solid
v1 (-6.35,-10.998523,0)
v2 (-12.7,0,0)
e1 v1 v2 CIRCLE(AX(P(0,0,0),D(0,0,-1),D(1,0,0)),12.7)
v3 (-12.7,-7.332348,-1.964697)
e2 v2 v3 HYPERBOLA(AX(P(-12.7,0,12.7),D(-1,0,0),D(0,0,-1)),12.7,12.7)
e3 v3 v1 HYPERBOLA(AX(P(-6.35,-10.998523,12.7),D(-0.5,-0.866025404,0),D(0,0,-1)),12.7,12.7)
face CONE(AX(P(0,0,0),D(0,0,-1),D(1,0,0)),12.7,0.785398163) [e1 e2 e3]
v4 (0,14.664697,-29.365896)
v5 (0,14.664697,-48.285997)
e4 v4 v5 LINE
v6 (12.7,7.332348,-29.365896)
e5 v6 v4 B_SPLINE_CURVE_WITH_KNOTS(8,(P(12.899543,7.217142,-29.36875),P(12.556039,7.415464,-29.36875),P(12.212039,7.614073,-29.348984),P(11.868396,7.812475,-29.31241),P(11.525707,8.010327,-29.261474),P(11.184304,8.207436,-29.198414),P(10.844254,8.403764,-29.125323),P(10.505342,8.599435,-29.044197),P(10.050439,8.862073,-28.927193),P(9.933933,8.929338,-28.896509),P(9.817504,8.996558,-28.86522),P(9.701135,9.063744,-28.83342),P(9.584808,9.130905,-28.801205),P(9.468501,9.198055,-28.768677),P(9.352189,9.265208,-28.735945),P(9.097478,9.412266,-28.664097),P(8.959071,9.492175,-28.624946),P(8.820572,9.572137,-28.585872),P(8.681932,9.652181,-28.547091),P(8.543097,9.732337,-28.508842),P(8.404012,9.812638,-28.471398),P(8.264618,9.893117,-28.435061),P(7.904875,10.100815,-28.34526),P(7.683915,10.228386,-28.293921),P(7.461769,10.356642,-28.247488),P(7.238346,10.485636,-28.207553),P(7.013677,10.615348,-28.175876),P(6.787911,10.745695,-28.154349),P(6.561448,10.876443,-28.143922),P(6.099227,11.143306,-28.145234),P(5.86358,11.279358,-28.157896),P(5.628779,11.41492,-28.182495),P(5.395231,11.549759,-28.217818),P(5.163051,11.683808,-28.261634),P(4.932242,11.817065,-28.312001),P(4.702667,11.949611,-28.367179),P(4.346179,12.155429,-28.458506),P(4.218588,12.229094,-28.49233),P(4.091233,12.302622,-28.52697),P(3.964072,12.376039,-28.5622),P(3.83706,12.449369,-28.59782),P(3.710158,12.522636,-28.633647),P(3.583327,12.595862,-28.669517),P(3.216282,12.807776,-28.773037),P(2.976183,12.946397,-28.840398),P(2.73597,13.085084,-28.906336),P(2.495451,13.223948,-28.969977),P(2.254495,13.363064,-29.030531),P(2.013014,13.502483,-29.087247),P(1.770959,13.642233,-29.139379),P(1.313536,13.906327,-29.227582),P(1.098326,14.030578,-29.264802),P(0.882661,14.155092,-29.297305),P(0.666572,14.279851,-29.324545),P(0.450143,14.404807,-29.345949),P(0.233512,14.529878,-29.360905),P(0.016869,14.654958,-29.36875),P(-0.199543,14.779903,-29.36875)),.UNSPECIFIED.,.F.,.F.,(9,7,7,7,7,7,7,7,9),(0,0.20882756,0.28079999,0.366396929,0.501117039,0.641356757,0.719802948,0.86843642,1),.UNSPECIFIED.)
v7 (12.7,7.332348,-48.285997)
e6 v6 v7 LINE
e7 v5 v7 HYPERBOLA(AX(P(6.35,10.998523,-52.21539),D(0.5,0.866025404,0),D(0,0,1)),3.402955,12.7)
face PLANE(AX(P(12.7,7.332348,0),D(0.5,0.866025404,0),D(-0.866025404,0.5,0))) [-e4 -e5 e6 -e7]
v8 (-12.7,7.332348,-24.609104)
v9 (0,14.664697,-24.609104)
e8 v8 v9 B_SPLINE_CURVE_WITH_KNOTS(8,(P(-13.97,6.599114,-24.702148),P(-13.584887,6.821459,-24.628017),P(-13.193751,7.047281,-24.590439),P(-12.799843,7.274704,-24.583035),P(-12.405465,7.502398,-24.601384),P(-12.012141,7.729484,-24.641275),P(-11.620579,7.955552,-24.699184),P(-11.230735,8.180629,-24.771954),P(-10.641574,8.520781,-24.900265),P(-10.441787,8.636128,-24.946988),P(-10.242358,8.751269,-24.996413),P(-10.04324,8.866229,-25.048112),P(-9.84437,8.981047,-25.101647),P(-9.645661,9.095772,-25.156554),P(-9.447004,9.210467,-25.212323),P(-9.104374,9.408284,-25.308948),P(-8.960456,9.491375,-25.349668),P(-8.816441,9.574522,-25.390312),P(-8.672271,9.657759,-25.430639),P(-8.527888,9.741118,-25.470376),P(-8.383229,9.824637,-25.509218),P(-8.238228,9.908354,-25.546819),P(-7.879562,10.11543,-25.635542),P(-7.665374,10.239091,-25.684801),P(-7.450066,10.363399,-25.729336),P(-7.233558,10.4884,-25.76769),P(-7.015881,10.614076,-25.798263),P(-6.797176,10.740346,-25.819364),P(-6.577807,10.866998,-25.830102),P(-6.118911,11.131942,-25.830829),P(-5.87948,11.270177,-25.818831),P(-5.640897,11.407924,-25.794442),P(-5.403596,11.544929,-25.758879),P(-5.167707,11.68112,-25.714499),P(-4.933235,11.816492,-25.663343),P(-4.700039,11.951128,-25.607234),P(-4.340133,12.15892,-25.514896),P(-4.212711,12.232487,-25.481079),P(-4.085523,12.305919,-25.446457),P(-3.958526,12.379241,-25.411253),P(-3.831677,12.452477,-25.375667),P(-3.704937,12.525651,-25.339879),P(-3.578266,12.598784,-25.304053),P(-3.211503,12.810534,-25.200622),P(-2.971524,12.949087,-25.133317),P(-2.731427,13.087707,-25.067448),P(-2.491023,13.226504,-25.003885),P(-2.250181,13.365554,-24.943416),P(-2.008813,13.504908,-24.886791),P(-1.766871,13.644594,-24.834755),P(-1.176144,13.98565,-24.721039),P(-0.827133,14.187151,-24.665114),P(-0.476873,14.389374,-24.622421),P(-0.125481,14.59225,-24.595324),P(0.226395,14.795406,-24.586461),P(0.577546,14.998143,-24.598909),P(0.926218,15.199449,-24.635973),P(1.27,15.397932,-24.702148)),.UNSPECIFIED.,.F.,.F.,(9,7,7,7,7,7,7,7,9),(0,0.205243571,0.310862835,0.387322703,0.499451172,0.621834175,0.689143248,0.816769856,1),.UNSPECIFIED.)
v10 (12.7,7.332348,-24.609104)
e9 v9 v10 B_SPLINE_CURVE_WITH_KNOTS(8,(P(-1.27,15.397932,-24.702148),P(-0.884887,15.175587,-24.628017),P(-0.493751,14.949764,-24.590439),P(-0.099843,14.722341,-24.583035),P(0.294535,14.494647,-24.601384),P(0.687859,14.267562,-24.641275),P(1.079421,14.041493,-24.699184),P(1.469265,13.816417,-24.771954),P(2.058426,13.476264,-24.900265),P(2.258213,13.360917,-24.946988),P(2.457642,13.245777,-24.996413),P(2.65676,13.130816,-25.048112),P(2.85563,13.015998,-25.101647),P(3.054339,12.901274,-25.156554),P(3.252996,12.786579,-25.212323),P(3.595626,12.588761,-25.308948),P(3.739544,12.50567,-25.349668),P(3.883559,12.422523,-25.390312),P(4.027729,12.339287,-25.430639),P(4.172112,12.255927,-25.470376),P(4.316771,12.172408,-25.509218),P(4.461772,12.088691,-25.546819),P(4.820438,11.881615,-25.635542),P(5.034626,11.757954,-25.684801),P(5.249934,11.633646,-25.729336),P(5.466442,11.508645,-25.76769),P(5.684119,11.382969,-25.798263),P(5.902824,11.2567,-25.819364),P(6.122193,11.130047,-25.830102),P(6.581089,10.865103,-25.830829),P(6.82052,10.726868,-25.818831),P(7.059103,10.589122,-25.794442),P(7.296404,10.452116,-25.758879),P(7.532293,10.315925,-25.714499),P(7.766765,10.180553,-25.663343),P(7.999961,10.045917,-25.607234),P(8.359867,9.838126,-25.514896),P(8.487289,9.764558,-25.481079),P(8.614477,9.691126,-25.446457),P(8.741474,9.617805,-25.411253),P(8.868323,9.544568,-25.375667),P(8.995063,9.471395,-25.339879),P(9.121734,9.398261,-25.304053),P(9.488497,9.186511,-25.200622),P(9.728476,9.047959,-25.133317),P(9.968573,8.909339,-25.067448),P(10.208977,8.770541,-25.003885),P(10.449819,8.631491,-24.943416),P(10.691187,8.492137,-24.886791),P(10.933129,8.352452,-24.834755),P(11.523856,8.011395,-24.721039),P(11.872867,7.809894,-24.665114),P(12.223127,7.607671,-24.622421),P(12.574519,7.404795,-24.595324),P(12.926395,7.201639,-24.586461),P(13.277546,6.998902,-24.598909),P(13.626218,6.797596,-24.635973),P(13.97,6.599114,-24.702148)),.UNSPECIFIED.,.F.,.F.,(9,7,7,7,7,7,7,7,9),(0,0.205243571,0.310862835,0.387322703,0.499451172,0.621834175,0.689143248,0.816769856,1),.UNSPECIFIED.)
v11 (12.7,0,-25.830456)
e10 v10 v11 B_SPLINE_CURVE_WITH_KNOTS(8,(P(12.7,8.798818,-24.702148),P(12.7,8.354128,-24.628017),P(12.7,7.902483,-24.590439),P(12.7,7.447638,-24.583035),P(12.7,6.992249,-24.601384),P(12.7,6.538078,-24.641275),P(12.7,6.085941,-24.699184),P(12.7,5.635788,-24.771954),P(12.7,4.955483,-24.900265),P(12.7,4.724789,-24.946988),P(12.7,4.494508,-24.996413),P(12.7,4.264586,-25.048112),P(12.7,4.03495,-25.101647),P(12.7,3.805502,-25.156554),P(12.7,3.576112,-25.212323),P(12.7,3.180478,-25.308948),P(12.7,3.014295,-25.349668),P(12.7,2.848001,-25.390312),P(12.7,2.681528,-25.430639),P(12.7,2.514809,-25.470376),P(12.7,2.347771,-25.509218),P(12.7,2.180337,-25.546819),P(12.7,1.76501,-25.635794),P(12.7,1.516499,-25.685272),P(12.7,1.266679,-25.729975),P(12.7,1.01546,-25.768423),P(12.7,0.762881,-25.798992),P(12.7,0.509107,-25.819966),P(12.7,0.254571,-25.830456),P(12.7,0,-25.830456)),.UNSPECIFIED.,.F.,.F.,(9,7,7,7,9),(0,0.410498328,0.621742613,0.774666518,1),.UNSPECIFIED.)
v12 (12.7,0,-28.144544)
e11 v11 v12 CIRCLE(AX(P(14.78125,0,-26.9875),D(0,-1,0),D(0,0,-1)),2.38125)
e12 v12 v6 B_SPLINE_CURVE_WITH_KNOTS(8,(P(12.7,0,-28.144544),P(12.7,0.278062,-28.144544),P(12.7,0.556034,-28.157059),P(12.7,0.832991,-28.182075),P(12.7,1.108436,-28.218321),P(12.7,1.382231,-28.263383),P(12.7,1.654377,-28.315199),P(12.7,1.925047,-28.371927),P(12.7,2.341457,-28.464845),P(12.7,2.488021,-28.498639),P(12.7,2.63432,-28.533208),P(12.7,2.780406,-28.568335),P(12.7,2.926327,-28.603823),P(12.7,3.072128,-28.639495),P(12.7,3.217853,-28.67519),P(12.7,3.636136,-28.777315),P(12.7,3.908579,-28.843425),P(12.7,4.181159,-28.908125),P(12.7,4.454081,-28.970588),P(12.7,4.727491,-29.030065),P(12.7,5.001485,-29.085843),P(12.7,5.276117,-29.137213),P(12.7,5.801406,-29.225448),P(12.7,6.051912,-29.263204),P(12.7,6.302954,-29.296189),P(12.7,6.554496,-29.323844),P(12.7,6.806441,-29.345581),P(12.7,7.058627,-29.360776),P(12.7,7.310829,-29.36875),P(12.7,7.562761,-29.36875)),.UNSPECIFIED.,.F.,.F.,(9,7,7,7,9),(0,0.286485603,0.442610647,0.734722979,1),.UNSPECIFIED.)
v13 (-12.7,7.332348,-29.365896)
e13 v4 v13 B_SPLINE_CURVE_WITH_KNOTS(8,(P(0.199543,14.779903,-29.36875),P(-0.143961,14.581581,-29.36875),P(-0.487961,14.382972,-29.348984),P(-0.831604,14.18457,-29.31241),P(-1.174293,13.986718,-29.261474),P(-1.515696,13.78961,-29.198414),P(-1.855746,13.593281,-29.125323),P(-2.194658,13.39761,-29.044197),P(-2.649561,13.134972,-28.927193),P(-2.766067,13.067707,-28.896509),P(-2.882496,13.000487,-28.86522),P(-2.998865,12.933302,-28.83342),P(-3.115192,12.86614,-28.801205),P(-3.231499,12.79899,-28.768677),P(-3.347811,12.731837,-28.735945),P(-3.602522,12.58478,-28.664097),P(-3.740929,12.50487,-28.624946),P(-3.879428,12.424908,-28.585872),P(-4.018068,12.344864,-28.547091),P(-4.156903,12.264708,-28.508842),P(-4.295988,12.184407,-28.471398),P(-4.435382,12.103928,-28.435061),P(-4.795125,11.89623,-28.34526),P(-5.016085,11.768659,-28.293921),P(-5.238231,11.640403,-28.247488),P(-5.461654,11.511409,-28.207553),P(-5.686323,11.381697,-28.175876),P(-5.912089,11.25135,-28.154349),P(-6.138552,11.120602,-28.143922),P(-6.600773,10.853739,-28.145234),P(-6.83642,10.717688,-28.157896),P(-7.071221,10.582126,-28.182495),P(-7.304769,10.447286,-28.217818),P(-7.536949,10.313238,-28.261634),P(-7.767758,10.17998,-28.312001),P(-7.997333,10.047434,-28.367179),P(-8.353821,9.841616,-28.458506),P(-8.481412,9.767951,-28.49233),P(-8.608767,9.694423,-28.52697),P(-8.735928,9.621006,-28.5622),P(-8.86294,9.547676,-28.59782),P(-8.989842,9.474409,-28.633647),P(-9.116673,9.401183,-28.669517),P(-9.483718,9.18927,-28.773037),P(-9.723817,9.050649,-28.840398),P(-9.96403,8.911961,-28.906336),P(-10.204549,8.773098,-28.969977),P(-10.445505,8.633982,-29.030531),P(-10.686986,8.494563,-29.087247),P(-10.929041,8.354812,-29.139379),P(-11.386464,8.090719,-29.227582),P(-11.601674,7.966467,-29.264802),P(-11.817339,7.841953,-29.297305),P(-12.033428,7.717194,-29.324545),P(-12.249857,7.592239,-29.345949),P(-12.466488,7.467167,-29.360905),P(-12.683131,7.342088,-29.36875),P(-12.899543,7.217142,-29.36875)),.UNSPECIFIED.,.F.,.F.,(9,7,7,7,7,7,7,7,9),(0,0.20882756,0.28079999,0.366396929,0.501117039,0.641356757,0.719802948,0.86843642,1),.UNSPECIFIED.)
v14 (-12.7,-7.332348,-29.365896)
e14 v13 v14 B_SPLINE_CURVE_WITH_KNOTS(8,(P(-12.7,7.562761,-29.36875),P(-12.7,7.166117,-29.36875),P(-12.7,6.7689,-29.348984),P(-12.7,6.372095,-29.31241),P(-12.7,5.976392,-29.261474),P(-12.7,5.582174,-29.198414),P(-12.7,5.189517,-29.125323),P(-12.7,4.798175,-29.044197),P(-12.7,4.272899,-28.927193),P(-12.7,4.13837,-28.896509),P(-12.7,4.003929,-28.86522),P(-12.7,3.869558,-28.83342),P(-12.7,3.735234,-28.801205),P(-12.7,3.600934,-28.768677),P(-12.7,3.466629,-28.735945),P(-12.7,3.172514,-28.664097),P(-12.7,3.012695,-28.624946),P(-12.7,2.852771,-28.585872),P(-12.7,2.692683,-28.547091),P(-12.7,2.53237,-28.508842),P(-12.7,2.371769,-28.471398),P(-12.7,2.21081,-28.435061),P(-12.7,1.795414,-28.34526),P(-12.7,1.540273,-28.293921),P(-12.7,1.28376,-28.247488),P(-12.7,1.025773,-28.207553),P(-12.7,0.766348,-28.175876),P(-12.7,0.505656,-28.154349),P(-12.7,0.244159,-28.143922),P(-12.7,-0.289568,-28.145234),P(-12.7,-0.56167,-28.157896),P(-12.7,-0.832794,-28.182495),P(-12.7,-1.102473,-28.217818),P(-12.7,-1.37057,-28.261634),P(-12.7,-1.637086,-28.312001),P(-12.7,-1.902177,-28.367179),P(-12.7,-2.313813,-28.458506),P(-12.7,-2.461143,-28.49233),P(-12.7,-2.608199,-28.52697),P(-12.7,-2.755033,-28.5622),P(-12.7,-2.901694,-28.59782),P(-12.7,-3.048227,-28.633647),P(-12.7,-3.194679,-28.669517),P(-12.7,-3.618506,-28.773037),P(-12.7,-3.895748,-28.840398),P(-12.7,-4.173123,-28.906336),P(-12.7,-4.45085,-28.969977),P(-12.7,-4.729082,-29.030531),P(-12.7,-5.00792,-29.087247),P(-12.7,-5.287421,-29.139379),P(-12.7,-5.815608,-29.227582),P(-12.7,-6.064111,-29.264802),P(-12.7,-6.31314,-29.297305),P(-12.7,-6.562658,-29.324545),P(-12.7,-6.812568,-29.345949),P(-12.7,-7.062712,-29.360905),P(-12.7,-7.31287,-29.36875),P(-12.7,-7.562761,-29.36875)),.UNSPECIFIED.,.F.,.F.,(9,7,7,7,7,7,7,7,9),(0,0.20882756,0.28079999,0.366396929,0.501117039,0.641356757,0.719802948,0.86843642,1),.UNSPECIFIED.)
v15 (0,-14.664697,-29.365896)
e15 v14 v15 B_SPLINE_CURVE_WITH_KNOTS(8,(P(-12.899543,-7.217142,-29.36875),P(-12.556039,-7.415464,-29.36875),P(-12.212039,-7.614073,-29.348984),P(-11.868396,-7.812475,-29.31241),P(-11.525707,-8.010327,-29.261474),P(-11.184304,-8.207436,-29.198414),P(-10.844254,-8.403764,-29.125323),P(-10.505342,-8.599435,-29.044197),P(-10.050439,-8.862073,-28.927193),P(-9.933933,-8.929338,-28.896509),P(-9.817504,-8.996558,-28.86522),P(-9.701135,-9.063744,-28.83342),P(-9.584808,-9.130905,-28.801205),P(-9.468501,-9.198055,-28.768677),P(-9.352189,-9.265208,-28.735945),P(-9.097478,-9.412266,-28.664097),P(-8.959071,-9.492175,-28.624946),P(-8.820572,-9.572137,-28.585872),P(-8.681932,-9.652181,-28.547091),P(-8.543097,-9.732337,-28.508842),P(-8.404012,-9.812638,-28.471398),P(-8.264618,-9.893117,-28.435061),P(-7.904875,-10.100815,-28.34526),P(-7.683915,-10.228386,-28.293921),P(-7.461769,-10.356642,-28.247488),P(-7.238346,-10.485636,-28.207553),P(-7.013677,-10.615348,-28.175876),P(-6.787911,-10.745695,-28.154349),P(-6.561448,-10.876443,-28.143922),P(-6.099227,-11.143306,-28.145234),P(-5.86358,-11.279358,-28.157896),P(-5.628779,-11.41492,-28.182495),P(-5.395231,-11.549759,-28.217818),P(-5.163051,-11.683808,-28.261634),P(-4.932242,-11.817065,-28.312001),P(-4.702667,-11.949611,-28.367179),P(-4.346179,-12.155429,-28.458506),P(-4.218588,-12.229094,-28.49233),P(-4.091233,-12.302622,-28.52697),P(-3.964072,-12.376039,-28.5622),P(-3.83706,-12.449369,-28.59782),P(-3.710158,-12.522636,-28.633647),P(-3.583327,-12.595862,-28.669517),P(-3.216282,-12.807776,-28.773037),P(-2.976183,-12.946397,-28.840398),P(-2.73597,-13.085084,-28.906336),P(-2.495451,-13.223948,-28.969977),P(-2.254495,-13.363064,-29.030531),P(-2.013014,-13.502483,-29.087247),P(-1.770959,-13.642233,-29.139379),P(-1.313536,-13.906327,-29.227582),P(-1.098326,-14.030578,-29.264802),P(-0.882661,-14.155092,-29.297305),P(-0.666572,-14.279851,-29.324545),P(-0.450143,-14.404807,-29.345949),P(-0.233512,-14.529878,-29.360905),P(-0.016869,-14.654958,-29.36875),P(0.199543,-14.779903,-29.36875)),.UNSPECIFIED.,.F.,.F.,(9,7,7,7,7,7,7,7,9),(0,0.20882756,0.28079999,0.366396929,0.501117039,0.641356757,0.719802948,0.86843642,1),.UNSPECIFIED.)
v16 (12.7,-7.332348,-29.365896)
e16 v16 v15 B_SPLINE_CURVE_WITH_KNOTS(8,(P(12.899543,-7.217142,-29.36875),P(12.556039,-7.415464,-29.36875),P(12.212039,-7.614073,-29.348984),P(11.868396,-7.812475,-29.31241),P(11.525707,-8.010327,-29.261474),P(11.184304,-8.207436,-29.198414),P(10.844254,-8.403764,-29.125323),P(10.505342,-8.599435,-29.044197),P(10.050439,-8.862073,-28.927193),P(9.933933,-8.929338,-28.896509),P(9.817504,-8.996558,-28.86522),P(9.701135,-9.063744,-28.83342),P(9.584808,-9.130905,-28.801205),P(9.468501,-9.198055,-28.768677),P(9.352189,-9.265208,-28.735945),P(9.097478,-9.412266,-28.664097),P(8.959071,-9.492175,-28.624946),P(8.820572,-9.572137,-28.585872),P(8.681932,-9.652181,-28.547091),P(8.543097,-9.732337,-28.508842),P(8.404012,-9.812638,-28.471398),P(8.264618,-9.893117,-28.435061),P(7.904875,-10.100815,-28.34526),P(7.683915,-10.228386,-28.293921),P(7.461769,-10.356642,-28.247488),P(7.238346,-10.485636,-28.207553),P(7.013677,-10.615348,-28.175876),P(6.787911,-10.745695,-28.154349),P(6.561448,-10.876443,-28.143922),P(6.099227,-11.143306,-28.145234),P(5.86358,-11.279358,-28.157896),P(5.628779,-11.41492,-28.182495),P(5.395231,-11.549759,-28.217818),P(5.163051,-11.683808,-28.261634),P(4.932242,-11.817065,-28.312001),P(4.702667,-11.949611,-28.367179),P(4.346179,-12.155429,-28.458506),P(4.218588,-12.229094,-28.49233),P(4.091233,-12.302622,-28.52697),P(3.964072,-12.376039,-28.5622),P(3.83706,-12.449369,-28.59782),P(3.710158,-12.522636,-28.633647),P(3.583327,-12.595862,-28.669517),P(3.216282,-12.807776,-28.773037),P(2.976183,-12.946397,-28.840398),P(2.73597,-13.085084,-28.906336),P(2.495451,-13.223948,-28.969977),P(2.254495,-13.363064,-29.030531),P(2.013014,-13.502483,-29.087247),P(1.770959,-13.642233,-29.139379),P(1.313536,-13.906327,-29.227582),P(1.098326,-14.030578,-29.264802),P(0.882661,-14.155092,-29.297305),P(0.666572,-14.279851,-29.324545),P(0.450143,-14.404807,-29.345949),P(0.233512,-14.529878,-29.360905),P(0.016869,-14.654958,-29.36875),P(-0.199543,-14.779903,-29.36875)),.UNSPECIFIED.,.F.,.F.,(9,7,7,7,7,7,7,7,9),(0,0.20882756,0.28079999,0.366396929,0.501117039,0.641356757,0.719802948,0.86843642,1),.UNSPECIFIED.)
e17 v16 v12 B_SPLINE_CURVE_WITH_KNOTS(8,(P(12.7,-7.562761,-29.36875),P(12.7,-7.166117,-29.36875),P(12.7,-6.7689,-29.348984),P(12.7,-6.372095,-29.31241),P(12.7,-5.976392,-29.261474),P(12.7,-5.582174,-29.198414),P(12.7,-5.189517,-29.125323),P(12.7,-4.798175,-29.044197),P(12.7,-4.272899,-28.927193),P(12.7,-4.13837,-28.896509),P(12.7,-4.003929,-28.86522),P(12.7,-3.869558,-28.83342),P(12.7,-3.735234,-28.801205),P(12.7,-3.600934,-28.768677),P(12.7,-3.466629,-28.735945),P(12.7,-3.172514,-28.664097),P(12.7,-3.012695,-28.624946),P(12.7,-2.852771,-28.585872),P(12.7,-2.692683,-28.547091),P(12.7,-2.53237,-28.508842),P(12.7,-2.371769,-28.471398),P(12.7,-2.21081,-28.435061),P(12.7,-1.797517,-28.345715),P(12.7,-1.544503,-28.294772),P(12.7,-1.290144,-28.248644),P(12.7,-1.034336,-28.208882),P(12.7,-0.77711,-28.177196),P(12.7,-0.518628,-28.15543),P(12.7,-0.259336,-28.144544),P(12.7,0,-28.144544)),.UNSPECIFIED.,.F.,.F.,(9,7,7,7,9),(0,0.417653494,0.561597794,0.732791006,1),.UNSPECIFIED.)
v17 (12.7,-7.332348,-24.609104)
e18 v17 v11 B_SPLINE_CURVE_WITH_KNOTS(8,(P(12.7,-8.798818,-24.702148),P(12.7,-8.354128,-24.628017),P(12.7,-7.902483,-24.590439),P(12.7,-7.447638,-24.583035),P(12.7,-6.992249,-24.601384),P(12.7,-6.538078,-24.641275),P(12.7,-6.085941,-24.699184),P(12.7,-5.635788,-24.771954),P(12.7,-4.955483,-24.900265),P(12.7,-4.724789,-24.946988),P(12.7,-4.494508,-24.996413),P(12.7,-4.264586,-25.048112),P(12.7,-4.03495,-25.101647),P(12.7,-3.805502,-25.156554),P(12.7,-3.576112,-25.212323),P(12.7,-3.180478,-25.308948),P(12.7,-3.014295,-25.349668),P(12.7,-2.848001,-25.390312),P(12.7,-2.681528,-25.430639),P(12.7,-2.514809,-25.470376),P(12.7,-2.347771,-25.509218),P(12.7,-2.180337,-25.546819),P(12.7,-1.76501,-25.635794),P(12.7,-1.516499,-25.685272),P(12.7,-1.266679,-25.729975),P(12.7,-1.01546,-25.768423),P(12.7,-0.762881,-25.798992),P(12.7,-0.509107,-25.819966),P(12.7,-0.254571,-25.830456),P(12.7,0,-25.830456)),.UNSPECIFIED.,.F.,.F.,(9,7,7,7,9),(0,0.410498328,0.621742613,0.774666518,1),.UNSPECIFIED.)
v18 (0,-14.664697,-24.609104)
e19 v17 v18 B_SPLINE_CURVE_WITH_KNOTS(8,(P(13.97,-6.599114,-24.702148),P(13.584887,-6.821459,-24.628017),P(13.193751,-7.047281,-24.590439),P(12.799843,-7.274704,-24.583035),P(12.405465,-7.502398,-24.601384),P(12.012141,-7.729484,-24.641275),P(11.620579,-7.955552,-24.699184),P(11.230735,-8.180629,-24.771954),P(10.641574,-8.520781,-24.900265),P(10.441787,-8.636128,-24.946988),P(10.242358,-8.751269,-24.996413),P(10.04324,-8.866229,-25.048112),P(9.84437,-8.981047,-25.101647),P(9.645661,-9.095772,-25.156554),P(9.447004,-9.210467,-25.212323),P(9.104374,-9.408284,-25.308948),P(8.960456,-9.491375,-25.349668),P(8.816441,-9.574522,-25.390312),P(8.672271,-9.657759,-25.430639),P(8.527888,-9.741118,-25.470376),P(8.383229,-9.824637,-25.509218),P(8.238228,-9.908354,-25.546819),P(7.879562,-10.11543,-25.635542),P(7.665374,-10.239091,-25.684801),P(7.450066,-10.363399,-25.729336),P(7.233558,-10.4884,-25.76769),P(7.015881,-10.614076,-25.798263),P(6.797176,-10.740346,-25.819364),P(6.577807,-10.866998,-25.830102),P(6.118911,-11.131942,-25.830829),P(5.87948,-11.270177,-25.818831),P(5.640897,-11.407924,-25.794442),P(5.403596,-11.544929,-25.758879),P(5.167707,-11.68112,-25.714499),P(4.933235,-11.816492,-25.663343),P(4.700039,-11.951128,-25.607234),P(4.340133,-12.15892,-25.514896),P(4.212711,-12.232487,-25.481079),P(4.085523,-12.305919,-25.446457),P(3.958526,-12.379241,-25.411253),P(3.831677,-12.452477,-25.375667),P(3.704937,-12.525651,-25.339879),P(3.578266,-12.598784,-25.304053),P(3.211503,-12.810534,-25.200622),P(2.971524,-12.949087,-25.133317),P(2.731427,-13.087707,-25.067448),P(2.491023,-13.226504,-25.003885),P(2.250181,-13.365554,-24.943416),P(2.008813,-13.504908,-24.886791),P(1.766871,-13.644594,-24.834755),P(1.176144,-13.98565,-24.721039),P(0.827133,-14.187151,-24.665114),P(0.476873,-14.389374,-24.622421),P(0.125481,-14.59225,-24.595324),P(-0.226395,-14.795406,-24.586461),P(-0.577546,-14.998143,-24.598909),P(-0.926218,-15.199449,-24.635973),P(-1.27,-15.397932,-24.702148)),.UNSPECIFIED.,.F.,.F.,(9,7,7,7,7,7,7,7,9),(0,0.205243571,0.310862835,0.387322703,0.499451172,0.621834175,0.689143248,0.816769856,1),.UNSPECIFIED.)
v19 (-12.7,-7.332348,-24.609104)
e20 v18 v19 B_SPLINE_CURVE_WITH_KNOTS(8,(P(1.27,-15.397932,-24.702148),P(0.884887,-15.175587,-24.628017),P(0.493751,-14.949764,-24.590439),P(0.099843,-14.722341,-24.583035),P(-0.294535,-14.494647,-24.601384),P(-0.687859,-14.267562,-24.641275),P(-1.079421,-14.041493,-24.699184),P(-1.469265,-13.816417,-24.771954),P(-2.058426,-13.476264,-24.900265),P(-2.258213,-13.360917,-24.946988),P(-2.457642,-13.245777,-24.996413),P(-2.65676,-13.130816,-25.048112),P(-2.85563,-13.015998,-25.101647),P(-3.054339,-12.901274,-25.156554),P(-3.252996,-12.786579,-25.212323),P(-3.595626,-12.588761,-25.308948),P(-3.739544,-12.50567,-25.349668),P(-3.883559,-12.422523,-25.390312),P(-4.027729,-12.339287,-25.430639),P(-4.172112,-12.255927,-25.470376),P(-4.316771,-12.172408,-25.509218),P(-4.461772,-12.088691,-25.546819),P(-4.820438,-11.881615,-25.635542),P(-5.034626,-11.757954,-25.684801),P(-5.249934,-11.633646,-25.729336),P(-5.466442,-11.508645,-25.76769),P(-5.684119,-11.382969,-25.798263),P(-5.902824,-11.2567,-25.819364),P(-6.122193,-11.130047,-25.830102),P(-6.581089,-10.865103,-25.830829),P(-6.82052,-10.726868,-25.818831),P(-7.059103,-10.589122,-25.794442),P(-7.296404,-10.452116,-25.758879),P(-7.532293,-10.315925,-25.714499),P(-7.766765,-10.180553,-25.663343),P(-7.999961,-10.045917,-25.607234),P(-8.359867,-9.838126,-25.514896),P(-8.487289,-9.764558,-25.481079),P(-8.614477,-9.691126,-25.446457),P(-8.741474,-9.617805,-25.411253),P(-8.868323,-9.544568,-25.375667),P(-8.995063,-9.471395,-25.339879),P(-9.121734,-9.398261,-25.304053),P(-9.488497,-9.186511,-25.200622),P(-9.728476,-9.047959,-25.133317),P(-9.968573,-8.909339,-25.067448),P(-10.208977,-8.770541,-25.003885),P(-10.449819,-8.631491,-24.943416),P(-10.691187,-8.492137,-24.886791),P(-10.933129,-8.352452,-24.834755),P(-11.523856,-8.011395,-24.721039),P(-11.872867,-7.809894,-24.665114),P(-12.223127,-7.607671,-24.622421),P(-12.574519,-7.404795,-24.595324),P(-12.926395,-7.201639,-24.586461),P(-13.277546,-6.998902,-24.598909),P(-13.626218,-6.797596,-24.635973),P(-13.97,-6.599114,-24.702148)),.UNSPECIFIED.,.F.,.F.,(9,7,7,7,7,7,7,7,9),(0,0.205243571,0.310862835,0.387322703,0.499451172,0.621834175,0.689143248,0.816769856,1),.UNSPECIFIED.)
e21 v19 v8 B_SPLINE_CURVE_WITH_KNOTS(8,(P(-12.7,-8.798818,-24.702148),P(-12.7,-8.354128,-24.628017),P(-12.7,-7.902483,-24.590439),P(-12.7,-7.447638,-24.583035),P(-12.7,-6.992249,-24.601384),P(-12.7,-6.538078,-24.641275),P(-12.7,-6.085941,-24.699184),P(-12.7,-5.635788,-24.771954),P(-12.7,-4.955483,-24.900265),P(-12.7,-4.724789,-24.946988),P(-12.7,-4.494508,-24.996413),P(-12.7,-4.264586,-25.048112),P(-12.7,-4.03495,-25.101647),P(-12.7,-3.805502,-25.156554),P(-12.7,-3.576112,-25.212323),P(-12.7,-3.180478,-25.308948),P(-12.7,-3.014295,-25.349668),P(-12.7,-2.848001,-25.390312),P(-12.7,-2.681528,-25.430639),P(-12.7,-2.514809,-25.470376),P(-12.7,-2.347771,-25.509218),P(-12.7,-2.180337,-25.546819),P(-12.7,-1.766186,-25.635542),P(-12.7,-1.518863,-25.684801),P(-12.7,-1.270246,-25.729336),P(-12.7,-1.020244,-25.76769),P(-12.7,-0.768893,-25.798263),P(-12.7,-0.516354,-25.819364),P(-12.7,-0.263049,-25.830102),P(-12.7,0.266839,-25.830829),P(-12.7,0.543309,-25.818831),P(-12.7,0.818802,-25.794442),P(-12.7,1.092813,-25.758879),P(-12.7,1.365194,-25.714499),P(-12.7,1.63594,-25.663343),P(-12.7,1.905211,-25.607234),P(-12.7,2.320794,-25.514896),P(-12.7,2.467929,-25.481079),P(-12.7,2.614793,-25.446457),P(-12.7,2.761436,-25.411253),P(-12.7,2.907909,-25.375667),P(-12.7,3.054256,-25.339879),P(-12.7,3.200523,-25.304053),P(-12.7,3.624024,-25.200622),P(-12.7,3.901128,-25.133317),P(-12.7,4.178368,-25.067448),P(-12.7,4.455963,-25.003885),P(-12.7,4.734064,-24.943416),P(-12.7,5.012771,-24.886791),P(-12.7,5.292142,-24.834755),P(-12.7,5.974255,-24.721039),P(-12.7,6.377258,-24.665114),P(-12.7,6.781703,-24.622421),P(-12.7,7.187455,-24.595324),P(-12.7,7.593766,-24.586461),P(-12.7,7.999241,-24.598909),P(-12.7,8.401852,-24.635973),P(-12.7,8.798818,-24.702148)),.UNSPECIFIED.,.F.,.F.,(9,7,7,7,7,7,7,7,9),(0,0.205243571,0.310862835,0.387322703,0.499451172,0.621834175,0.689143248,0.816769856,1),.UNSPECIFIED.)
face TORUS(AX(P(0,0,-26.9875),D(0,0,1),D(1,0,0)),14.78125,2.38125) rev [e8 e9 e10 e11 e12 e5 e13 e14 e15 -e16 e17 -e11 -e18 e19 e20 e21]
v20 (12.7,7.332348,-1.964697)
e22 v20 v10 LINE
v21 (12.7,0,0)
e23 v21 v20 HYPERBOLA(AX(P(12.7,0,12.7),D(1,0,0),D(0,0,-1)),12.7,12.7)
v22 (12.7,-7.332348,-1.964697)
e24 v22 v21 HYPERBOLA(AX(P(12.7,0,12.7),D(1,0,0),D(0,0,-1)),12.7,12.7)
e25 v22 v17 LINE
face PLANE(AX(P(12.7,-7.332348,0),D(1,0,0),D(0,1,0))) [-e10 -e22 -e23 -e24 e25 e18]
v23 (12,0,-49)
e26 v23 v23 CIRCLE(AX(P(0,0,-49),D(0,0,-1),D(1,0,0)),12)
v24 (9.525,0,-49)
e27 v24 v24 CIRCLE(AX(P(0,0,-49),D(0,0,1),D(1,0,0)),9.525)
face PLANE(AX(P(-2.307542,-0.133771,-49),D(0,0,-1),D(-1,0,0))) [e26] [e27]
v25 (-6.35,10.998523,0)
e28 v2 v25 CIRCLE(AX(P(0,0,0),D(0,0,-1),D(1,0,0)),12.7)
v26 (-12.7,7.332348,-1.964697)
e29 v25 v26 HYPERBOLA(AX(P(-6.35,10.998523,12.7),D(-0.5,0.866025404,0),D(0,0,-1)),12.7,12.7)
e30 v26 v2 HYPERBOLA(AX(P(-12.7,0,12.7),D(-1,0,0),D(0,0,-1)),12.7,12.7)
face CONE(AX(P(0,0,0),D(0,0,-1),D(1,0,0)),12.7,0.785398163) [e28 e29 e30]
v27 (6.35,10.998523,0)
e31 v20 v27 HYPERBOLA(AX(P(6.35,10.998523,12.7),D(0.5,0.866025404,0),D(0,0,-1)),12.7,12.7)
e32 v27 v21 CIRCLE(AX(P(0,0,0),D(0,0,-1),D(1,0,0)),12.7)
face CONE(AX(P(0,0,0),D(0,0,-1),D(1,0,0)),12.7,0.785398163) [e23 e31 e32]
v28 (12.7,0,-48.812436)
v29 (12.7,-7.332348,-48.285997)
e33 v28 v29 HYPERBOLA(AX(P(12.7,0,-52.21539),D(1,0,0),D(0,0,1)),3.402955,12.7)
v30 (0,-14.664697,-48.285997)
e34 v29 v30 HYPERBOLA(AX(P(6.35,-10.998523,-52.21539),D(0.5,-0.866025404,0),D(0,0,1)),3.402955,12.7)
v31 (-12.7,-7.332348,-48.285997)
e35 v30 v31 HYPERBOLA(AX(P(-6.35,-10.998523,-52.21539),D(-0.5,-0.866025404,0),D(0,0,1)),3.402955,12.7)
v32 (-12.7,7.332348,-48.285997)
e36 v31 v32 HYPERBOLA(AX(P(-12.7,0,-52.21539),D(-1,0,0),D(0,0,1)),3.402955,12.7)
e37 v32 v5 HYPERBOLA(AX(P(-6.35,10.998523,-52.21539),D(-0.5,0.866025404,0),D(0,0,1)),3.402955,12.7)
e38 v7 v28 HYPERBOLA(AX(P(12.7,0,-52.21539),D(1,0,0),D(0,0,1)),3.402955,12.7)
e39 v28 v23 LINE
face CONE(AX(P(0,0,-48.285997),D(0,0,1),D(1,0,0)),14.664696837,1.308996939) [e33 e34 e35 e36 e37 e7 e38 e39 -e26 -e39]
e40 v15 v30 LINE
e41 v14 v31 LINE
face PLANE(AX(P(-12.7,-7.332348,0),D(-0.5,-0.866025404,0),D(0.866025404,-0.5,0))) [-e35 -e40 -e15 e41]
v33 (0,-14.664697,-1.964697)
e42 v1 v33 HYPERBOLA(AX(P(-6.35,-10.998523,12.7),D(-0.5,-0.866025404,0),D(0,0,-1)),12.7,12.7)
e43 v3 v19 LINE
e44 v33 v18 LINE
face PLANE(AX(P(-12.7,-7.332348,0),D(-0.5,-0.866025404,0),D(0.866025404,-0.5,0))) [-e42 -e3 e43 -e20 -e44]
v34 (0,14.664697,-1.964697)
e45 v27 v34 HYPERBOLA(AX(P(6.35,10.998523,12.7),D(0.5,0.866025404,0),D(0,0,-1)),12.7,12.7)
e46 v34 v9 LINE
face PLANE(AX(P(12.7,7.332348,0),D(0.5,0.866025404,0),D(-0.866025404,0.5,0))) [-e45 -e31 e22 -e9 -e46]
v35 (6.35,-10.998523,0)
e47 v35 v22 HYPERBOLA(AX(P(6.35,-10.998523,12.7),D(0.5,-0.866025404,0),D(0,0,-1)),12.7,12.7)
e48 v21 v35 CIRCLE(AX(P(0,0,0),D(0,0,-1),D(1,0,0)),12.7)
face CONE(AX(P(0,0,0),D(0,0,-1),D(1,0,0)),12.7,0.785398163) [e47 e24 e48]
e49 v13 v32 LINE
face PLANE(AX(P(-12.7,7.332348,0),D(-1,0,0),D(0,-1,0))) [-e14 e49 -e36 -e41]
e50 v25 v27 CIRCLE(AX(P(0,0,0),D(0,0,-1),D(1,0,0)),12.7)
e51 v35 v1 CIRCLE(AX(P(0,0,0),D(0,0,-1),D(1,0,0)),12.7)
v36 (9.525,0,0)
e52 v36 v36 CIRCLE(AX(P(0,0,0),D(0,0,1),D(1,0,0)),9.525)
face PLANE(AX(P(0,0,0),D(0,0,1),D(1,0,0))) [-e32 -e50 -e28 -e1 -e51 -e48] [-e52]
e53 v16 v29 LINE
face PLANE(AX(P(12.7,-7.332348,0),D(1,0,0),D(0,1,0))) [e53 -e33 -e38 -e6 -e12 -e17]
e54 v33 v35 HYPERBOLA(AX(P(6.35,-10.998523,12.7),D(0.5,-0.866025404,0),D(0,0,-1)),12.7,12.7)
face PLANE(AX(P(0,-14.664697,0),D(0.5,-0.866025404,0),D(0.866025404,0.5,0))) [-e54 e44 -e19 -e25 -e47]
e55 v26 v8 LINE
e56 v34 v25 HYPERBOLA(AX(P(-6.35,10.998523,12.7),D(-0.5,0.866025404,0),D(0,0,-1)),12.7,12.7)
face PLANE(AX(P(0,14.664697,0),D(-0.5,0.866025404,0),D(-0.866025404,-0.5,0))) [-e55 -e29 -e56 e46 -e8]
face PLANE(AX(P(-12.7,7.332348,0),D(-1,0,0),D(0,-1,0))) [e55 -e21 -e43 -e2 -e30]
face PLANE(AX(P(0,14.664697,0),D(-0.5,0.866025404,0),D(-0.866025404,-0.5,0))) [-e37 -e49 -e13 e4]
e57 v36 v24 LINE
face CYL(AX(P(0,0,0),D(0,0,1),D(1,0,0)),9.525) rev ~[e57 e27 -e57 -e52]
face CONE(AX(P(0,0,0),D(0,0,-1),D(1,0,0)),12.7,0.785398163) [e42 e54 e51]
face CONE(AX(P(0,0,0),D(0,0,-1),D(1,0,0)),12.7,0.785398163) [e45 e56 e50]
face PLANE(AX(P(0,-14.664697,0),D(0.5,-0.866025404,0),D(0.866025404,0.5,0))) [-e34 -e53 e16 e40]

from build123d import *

# Parameters (mm, degrees)
SKETCH1_R          = 9.525
EXTRUDE1_DEPTH     = 59
SKETCH2_R          = 2.38125
SKETCH3_W          = 35.382303839
SKETCH3_H          = 29.228859692
CUT_EXTRUDE1_DEPTH = 10


with BuildPart() as part:
    # Sketch1 → Extrude1 (new body)
    with BuildSketch(Plane.XY):
        Polygon((-12.7, 7.332348419), (-12.7, -7.332348419), (0, -14.664696837), (12.7, -7.332348419), (12.7, 7.332348419), (0, 14.664696837), align=None)
        Circle(SKETCH1_R, mode=Mode.SUBTRACT)
    extrude(amount=-EXTRUDE1_DEPTH)

    # Sketch2 → Cut-Revolve3 (revolve, cut)
    with BuildSketch(Plane(origin=(0, 0, 0), x_dir=(0, 0, -1), z_dir=(1, 0, 0)), mode=Mode.PRIVATE) as cut_revolve3_sk:
        Polygon((59, 14.664696837), (48.285996634, 14.664696837), (49, 12), (59, 12), align=None)
        Polygon((1.964696837, 14.664696837), (0, 14.664696837), (0, 12.7), align=None)
        with Locations((26.9875, 14.78125)):
            Circle(SKETCH2_R)
    revolve(cut_revolve3_sk.sketch.rotate(Axis((0, 0, 0), (0, 0, -1)), 90), axis=Axis((0, 0, 0), (0, 0, -1)), mode=Mode.SUBTRACT)

    # Sketch3 → Cut-Extrude1 (cut)
    with BuildSketch(Plane(origin=(0, 0, -59), x_dir=(-1, 0, 0), z_dir=(0, 0, -1))):
        with Locations((2.307541554, -0.133770525)):
            Rectangle(SKETCH3_W, SKETCH3_H)
    extrude(amount=-CUT_EXTRUDE1_DEPTH, mode=Mode.SUBTRACT)


solid = part.part
